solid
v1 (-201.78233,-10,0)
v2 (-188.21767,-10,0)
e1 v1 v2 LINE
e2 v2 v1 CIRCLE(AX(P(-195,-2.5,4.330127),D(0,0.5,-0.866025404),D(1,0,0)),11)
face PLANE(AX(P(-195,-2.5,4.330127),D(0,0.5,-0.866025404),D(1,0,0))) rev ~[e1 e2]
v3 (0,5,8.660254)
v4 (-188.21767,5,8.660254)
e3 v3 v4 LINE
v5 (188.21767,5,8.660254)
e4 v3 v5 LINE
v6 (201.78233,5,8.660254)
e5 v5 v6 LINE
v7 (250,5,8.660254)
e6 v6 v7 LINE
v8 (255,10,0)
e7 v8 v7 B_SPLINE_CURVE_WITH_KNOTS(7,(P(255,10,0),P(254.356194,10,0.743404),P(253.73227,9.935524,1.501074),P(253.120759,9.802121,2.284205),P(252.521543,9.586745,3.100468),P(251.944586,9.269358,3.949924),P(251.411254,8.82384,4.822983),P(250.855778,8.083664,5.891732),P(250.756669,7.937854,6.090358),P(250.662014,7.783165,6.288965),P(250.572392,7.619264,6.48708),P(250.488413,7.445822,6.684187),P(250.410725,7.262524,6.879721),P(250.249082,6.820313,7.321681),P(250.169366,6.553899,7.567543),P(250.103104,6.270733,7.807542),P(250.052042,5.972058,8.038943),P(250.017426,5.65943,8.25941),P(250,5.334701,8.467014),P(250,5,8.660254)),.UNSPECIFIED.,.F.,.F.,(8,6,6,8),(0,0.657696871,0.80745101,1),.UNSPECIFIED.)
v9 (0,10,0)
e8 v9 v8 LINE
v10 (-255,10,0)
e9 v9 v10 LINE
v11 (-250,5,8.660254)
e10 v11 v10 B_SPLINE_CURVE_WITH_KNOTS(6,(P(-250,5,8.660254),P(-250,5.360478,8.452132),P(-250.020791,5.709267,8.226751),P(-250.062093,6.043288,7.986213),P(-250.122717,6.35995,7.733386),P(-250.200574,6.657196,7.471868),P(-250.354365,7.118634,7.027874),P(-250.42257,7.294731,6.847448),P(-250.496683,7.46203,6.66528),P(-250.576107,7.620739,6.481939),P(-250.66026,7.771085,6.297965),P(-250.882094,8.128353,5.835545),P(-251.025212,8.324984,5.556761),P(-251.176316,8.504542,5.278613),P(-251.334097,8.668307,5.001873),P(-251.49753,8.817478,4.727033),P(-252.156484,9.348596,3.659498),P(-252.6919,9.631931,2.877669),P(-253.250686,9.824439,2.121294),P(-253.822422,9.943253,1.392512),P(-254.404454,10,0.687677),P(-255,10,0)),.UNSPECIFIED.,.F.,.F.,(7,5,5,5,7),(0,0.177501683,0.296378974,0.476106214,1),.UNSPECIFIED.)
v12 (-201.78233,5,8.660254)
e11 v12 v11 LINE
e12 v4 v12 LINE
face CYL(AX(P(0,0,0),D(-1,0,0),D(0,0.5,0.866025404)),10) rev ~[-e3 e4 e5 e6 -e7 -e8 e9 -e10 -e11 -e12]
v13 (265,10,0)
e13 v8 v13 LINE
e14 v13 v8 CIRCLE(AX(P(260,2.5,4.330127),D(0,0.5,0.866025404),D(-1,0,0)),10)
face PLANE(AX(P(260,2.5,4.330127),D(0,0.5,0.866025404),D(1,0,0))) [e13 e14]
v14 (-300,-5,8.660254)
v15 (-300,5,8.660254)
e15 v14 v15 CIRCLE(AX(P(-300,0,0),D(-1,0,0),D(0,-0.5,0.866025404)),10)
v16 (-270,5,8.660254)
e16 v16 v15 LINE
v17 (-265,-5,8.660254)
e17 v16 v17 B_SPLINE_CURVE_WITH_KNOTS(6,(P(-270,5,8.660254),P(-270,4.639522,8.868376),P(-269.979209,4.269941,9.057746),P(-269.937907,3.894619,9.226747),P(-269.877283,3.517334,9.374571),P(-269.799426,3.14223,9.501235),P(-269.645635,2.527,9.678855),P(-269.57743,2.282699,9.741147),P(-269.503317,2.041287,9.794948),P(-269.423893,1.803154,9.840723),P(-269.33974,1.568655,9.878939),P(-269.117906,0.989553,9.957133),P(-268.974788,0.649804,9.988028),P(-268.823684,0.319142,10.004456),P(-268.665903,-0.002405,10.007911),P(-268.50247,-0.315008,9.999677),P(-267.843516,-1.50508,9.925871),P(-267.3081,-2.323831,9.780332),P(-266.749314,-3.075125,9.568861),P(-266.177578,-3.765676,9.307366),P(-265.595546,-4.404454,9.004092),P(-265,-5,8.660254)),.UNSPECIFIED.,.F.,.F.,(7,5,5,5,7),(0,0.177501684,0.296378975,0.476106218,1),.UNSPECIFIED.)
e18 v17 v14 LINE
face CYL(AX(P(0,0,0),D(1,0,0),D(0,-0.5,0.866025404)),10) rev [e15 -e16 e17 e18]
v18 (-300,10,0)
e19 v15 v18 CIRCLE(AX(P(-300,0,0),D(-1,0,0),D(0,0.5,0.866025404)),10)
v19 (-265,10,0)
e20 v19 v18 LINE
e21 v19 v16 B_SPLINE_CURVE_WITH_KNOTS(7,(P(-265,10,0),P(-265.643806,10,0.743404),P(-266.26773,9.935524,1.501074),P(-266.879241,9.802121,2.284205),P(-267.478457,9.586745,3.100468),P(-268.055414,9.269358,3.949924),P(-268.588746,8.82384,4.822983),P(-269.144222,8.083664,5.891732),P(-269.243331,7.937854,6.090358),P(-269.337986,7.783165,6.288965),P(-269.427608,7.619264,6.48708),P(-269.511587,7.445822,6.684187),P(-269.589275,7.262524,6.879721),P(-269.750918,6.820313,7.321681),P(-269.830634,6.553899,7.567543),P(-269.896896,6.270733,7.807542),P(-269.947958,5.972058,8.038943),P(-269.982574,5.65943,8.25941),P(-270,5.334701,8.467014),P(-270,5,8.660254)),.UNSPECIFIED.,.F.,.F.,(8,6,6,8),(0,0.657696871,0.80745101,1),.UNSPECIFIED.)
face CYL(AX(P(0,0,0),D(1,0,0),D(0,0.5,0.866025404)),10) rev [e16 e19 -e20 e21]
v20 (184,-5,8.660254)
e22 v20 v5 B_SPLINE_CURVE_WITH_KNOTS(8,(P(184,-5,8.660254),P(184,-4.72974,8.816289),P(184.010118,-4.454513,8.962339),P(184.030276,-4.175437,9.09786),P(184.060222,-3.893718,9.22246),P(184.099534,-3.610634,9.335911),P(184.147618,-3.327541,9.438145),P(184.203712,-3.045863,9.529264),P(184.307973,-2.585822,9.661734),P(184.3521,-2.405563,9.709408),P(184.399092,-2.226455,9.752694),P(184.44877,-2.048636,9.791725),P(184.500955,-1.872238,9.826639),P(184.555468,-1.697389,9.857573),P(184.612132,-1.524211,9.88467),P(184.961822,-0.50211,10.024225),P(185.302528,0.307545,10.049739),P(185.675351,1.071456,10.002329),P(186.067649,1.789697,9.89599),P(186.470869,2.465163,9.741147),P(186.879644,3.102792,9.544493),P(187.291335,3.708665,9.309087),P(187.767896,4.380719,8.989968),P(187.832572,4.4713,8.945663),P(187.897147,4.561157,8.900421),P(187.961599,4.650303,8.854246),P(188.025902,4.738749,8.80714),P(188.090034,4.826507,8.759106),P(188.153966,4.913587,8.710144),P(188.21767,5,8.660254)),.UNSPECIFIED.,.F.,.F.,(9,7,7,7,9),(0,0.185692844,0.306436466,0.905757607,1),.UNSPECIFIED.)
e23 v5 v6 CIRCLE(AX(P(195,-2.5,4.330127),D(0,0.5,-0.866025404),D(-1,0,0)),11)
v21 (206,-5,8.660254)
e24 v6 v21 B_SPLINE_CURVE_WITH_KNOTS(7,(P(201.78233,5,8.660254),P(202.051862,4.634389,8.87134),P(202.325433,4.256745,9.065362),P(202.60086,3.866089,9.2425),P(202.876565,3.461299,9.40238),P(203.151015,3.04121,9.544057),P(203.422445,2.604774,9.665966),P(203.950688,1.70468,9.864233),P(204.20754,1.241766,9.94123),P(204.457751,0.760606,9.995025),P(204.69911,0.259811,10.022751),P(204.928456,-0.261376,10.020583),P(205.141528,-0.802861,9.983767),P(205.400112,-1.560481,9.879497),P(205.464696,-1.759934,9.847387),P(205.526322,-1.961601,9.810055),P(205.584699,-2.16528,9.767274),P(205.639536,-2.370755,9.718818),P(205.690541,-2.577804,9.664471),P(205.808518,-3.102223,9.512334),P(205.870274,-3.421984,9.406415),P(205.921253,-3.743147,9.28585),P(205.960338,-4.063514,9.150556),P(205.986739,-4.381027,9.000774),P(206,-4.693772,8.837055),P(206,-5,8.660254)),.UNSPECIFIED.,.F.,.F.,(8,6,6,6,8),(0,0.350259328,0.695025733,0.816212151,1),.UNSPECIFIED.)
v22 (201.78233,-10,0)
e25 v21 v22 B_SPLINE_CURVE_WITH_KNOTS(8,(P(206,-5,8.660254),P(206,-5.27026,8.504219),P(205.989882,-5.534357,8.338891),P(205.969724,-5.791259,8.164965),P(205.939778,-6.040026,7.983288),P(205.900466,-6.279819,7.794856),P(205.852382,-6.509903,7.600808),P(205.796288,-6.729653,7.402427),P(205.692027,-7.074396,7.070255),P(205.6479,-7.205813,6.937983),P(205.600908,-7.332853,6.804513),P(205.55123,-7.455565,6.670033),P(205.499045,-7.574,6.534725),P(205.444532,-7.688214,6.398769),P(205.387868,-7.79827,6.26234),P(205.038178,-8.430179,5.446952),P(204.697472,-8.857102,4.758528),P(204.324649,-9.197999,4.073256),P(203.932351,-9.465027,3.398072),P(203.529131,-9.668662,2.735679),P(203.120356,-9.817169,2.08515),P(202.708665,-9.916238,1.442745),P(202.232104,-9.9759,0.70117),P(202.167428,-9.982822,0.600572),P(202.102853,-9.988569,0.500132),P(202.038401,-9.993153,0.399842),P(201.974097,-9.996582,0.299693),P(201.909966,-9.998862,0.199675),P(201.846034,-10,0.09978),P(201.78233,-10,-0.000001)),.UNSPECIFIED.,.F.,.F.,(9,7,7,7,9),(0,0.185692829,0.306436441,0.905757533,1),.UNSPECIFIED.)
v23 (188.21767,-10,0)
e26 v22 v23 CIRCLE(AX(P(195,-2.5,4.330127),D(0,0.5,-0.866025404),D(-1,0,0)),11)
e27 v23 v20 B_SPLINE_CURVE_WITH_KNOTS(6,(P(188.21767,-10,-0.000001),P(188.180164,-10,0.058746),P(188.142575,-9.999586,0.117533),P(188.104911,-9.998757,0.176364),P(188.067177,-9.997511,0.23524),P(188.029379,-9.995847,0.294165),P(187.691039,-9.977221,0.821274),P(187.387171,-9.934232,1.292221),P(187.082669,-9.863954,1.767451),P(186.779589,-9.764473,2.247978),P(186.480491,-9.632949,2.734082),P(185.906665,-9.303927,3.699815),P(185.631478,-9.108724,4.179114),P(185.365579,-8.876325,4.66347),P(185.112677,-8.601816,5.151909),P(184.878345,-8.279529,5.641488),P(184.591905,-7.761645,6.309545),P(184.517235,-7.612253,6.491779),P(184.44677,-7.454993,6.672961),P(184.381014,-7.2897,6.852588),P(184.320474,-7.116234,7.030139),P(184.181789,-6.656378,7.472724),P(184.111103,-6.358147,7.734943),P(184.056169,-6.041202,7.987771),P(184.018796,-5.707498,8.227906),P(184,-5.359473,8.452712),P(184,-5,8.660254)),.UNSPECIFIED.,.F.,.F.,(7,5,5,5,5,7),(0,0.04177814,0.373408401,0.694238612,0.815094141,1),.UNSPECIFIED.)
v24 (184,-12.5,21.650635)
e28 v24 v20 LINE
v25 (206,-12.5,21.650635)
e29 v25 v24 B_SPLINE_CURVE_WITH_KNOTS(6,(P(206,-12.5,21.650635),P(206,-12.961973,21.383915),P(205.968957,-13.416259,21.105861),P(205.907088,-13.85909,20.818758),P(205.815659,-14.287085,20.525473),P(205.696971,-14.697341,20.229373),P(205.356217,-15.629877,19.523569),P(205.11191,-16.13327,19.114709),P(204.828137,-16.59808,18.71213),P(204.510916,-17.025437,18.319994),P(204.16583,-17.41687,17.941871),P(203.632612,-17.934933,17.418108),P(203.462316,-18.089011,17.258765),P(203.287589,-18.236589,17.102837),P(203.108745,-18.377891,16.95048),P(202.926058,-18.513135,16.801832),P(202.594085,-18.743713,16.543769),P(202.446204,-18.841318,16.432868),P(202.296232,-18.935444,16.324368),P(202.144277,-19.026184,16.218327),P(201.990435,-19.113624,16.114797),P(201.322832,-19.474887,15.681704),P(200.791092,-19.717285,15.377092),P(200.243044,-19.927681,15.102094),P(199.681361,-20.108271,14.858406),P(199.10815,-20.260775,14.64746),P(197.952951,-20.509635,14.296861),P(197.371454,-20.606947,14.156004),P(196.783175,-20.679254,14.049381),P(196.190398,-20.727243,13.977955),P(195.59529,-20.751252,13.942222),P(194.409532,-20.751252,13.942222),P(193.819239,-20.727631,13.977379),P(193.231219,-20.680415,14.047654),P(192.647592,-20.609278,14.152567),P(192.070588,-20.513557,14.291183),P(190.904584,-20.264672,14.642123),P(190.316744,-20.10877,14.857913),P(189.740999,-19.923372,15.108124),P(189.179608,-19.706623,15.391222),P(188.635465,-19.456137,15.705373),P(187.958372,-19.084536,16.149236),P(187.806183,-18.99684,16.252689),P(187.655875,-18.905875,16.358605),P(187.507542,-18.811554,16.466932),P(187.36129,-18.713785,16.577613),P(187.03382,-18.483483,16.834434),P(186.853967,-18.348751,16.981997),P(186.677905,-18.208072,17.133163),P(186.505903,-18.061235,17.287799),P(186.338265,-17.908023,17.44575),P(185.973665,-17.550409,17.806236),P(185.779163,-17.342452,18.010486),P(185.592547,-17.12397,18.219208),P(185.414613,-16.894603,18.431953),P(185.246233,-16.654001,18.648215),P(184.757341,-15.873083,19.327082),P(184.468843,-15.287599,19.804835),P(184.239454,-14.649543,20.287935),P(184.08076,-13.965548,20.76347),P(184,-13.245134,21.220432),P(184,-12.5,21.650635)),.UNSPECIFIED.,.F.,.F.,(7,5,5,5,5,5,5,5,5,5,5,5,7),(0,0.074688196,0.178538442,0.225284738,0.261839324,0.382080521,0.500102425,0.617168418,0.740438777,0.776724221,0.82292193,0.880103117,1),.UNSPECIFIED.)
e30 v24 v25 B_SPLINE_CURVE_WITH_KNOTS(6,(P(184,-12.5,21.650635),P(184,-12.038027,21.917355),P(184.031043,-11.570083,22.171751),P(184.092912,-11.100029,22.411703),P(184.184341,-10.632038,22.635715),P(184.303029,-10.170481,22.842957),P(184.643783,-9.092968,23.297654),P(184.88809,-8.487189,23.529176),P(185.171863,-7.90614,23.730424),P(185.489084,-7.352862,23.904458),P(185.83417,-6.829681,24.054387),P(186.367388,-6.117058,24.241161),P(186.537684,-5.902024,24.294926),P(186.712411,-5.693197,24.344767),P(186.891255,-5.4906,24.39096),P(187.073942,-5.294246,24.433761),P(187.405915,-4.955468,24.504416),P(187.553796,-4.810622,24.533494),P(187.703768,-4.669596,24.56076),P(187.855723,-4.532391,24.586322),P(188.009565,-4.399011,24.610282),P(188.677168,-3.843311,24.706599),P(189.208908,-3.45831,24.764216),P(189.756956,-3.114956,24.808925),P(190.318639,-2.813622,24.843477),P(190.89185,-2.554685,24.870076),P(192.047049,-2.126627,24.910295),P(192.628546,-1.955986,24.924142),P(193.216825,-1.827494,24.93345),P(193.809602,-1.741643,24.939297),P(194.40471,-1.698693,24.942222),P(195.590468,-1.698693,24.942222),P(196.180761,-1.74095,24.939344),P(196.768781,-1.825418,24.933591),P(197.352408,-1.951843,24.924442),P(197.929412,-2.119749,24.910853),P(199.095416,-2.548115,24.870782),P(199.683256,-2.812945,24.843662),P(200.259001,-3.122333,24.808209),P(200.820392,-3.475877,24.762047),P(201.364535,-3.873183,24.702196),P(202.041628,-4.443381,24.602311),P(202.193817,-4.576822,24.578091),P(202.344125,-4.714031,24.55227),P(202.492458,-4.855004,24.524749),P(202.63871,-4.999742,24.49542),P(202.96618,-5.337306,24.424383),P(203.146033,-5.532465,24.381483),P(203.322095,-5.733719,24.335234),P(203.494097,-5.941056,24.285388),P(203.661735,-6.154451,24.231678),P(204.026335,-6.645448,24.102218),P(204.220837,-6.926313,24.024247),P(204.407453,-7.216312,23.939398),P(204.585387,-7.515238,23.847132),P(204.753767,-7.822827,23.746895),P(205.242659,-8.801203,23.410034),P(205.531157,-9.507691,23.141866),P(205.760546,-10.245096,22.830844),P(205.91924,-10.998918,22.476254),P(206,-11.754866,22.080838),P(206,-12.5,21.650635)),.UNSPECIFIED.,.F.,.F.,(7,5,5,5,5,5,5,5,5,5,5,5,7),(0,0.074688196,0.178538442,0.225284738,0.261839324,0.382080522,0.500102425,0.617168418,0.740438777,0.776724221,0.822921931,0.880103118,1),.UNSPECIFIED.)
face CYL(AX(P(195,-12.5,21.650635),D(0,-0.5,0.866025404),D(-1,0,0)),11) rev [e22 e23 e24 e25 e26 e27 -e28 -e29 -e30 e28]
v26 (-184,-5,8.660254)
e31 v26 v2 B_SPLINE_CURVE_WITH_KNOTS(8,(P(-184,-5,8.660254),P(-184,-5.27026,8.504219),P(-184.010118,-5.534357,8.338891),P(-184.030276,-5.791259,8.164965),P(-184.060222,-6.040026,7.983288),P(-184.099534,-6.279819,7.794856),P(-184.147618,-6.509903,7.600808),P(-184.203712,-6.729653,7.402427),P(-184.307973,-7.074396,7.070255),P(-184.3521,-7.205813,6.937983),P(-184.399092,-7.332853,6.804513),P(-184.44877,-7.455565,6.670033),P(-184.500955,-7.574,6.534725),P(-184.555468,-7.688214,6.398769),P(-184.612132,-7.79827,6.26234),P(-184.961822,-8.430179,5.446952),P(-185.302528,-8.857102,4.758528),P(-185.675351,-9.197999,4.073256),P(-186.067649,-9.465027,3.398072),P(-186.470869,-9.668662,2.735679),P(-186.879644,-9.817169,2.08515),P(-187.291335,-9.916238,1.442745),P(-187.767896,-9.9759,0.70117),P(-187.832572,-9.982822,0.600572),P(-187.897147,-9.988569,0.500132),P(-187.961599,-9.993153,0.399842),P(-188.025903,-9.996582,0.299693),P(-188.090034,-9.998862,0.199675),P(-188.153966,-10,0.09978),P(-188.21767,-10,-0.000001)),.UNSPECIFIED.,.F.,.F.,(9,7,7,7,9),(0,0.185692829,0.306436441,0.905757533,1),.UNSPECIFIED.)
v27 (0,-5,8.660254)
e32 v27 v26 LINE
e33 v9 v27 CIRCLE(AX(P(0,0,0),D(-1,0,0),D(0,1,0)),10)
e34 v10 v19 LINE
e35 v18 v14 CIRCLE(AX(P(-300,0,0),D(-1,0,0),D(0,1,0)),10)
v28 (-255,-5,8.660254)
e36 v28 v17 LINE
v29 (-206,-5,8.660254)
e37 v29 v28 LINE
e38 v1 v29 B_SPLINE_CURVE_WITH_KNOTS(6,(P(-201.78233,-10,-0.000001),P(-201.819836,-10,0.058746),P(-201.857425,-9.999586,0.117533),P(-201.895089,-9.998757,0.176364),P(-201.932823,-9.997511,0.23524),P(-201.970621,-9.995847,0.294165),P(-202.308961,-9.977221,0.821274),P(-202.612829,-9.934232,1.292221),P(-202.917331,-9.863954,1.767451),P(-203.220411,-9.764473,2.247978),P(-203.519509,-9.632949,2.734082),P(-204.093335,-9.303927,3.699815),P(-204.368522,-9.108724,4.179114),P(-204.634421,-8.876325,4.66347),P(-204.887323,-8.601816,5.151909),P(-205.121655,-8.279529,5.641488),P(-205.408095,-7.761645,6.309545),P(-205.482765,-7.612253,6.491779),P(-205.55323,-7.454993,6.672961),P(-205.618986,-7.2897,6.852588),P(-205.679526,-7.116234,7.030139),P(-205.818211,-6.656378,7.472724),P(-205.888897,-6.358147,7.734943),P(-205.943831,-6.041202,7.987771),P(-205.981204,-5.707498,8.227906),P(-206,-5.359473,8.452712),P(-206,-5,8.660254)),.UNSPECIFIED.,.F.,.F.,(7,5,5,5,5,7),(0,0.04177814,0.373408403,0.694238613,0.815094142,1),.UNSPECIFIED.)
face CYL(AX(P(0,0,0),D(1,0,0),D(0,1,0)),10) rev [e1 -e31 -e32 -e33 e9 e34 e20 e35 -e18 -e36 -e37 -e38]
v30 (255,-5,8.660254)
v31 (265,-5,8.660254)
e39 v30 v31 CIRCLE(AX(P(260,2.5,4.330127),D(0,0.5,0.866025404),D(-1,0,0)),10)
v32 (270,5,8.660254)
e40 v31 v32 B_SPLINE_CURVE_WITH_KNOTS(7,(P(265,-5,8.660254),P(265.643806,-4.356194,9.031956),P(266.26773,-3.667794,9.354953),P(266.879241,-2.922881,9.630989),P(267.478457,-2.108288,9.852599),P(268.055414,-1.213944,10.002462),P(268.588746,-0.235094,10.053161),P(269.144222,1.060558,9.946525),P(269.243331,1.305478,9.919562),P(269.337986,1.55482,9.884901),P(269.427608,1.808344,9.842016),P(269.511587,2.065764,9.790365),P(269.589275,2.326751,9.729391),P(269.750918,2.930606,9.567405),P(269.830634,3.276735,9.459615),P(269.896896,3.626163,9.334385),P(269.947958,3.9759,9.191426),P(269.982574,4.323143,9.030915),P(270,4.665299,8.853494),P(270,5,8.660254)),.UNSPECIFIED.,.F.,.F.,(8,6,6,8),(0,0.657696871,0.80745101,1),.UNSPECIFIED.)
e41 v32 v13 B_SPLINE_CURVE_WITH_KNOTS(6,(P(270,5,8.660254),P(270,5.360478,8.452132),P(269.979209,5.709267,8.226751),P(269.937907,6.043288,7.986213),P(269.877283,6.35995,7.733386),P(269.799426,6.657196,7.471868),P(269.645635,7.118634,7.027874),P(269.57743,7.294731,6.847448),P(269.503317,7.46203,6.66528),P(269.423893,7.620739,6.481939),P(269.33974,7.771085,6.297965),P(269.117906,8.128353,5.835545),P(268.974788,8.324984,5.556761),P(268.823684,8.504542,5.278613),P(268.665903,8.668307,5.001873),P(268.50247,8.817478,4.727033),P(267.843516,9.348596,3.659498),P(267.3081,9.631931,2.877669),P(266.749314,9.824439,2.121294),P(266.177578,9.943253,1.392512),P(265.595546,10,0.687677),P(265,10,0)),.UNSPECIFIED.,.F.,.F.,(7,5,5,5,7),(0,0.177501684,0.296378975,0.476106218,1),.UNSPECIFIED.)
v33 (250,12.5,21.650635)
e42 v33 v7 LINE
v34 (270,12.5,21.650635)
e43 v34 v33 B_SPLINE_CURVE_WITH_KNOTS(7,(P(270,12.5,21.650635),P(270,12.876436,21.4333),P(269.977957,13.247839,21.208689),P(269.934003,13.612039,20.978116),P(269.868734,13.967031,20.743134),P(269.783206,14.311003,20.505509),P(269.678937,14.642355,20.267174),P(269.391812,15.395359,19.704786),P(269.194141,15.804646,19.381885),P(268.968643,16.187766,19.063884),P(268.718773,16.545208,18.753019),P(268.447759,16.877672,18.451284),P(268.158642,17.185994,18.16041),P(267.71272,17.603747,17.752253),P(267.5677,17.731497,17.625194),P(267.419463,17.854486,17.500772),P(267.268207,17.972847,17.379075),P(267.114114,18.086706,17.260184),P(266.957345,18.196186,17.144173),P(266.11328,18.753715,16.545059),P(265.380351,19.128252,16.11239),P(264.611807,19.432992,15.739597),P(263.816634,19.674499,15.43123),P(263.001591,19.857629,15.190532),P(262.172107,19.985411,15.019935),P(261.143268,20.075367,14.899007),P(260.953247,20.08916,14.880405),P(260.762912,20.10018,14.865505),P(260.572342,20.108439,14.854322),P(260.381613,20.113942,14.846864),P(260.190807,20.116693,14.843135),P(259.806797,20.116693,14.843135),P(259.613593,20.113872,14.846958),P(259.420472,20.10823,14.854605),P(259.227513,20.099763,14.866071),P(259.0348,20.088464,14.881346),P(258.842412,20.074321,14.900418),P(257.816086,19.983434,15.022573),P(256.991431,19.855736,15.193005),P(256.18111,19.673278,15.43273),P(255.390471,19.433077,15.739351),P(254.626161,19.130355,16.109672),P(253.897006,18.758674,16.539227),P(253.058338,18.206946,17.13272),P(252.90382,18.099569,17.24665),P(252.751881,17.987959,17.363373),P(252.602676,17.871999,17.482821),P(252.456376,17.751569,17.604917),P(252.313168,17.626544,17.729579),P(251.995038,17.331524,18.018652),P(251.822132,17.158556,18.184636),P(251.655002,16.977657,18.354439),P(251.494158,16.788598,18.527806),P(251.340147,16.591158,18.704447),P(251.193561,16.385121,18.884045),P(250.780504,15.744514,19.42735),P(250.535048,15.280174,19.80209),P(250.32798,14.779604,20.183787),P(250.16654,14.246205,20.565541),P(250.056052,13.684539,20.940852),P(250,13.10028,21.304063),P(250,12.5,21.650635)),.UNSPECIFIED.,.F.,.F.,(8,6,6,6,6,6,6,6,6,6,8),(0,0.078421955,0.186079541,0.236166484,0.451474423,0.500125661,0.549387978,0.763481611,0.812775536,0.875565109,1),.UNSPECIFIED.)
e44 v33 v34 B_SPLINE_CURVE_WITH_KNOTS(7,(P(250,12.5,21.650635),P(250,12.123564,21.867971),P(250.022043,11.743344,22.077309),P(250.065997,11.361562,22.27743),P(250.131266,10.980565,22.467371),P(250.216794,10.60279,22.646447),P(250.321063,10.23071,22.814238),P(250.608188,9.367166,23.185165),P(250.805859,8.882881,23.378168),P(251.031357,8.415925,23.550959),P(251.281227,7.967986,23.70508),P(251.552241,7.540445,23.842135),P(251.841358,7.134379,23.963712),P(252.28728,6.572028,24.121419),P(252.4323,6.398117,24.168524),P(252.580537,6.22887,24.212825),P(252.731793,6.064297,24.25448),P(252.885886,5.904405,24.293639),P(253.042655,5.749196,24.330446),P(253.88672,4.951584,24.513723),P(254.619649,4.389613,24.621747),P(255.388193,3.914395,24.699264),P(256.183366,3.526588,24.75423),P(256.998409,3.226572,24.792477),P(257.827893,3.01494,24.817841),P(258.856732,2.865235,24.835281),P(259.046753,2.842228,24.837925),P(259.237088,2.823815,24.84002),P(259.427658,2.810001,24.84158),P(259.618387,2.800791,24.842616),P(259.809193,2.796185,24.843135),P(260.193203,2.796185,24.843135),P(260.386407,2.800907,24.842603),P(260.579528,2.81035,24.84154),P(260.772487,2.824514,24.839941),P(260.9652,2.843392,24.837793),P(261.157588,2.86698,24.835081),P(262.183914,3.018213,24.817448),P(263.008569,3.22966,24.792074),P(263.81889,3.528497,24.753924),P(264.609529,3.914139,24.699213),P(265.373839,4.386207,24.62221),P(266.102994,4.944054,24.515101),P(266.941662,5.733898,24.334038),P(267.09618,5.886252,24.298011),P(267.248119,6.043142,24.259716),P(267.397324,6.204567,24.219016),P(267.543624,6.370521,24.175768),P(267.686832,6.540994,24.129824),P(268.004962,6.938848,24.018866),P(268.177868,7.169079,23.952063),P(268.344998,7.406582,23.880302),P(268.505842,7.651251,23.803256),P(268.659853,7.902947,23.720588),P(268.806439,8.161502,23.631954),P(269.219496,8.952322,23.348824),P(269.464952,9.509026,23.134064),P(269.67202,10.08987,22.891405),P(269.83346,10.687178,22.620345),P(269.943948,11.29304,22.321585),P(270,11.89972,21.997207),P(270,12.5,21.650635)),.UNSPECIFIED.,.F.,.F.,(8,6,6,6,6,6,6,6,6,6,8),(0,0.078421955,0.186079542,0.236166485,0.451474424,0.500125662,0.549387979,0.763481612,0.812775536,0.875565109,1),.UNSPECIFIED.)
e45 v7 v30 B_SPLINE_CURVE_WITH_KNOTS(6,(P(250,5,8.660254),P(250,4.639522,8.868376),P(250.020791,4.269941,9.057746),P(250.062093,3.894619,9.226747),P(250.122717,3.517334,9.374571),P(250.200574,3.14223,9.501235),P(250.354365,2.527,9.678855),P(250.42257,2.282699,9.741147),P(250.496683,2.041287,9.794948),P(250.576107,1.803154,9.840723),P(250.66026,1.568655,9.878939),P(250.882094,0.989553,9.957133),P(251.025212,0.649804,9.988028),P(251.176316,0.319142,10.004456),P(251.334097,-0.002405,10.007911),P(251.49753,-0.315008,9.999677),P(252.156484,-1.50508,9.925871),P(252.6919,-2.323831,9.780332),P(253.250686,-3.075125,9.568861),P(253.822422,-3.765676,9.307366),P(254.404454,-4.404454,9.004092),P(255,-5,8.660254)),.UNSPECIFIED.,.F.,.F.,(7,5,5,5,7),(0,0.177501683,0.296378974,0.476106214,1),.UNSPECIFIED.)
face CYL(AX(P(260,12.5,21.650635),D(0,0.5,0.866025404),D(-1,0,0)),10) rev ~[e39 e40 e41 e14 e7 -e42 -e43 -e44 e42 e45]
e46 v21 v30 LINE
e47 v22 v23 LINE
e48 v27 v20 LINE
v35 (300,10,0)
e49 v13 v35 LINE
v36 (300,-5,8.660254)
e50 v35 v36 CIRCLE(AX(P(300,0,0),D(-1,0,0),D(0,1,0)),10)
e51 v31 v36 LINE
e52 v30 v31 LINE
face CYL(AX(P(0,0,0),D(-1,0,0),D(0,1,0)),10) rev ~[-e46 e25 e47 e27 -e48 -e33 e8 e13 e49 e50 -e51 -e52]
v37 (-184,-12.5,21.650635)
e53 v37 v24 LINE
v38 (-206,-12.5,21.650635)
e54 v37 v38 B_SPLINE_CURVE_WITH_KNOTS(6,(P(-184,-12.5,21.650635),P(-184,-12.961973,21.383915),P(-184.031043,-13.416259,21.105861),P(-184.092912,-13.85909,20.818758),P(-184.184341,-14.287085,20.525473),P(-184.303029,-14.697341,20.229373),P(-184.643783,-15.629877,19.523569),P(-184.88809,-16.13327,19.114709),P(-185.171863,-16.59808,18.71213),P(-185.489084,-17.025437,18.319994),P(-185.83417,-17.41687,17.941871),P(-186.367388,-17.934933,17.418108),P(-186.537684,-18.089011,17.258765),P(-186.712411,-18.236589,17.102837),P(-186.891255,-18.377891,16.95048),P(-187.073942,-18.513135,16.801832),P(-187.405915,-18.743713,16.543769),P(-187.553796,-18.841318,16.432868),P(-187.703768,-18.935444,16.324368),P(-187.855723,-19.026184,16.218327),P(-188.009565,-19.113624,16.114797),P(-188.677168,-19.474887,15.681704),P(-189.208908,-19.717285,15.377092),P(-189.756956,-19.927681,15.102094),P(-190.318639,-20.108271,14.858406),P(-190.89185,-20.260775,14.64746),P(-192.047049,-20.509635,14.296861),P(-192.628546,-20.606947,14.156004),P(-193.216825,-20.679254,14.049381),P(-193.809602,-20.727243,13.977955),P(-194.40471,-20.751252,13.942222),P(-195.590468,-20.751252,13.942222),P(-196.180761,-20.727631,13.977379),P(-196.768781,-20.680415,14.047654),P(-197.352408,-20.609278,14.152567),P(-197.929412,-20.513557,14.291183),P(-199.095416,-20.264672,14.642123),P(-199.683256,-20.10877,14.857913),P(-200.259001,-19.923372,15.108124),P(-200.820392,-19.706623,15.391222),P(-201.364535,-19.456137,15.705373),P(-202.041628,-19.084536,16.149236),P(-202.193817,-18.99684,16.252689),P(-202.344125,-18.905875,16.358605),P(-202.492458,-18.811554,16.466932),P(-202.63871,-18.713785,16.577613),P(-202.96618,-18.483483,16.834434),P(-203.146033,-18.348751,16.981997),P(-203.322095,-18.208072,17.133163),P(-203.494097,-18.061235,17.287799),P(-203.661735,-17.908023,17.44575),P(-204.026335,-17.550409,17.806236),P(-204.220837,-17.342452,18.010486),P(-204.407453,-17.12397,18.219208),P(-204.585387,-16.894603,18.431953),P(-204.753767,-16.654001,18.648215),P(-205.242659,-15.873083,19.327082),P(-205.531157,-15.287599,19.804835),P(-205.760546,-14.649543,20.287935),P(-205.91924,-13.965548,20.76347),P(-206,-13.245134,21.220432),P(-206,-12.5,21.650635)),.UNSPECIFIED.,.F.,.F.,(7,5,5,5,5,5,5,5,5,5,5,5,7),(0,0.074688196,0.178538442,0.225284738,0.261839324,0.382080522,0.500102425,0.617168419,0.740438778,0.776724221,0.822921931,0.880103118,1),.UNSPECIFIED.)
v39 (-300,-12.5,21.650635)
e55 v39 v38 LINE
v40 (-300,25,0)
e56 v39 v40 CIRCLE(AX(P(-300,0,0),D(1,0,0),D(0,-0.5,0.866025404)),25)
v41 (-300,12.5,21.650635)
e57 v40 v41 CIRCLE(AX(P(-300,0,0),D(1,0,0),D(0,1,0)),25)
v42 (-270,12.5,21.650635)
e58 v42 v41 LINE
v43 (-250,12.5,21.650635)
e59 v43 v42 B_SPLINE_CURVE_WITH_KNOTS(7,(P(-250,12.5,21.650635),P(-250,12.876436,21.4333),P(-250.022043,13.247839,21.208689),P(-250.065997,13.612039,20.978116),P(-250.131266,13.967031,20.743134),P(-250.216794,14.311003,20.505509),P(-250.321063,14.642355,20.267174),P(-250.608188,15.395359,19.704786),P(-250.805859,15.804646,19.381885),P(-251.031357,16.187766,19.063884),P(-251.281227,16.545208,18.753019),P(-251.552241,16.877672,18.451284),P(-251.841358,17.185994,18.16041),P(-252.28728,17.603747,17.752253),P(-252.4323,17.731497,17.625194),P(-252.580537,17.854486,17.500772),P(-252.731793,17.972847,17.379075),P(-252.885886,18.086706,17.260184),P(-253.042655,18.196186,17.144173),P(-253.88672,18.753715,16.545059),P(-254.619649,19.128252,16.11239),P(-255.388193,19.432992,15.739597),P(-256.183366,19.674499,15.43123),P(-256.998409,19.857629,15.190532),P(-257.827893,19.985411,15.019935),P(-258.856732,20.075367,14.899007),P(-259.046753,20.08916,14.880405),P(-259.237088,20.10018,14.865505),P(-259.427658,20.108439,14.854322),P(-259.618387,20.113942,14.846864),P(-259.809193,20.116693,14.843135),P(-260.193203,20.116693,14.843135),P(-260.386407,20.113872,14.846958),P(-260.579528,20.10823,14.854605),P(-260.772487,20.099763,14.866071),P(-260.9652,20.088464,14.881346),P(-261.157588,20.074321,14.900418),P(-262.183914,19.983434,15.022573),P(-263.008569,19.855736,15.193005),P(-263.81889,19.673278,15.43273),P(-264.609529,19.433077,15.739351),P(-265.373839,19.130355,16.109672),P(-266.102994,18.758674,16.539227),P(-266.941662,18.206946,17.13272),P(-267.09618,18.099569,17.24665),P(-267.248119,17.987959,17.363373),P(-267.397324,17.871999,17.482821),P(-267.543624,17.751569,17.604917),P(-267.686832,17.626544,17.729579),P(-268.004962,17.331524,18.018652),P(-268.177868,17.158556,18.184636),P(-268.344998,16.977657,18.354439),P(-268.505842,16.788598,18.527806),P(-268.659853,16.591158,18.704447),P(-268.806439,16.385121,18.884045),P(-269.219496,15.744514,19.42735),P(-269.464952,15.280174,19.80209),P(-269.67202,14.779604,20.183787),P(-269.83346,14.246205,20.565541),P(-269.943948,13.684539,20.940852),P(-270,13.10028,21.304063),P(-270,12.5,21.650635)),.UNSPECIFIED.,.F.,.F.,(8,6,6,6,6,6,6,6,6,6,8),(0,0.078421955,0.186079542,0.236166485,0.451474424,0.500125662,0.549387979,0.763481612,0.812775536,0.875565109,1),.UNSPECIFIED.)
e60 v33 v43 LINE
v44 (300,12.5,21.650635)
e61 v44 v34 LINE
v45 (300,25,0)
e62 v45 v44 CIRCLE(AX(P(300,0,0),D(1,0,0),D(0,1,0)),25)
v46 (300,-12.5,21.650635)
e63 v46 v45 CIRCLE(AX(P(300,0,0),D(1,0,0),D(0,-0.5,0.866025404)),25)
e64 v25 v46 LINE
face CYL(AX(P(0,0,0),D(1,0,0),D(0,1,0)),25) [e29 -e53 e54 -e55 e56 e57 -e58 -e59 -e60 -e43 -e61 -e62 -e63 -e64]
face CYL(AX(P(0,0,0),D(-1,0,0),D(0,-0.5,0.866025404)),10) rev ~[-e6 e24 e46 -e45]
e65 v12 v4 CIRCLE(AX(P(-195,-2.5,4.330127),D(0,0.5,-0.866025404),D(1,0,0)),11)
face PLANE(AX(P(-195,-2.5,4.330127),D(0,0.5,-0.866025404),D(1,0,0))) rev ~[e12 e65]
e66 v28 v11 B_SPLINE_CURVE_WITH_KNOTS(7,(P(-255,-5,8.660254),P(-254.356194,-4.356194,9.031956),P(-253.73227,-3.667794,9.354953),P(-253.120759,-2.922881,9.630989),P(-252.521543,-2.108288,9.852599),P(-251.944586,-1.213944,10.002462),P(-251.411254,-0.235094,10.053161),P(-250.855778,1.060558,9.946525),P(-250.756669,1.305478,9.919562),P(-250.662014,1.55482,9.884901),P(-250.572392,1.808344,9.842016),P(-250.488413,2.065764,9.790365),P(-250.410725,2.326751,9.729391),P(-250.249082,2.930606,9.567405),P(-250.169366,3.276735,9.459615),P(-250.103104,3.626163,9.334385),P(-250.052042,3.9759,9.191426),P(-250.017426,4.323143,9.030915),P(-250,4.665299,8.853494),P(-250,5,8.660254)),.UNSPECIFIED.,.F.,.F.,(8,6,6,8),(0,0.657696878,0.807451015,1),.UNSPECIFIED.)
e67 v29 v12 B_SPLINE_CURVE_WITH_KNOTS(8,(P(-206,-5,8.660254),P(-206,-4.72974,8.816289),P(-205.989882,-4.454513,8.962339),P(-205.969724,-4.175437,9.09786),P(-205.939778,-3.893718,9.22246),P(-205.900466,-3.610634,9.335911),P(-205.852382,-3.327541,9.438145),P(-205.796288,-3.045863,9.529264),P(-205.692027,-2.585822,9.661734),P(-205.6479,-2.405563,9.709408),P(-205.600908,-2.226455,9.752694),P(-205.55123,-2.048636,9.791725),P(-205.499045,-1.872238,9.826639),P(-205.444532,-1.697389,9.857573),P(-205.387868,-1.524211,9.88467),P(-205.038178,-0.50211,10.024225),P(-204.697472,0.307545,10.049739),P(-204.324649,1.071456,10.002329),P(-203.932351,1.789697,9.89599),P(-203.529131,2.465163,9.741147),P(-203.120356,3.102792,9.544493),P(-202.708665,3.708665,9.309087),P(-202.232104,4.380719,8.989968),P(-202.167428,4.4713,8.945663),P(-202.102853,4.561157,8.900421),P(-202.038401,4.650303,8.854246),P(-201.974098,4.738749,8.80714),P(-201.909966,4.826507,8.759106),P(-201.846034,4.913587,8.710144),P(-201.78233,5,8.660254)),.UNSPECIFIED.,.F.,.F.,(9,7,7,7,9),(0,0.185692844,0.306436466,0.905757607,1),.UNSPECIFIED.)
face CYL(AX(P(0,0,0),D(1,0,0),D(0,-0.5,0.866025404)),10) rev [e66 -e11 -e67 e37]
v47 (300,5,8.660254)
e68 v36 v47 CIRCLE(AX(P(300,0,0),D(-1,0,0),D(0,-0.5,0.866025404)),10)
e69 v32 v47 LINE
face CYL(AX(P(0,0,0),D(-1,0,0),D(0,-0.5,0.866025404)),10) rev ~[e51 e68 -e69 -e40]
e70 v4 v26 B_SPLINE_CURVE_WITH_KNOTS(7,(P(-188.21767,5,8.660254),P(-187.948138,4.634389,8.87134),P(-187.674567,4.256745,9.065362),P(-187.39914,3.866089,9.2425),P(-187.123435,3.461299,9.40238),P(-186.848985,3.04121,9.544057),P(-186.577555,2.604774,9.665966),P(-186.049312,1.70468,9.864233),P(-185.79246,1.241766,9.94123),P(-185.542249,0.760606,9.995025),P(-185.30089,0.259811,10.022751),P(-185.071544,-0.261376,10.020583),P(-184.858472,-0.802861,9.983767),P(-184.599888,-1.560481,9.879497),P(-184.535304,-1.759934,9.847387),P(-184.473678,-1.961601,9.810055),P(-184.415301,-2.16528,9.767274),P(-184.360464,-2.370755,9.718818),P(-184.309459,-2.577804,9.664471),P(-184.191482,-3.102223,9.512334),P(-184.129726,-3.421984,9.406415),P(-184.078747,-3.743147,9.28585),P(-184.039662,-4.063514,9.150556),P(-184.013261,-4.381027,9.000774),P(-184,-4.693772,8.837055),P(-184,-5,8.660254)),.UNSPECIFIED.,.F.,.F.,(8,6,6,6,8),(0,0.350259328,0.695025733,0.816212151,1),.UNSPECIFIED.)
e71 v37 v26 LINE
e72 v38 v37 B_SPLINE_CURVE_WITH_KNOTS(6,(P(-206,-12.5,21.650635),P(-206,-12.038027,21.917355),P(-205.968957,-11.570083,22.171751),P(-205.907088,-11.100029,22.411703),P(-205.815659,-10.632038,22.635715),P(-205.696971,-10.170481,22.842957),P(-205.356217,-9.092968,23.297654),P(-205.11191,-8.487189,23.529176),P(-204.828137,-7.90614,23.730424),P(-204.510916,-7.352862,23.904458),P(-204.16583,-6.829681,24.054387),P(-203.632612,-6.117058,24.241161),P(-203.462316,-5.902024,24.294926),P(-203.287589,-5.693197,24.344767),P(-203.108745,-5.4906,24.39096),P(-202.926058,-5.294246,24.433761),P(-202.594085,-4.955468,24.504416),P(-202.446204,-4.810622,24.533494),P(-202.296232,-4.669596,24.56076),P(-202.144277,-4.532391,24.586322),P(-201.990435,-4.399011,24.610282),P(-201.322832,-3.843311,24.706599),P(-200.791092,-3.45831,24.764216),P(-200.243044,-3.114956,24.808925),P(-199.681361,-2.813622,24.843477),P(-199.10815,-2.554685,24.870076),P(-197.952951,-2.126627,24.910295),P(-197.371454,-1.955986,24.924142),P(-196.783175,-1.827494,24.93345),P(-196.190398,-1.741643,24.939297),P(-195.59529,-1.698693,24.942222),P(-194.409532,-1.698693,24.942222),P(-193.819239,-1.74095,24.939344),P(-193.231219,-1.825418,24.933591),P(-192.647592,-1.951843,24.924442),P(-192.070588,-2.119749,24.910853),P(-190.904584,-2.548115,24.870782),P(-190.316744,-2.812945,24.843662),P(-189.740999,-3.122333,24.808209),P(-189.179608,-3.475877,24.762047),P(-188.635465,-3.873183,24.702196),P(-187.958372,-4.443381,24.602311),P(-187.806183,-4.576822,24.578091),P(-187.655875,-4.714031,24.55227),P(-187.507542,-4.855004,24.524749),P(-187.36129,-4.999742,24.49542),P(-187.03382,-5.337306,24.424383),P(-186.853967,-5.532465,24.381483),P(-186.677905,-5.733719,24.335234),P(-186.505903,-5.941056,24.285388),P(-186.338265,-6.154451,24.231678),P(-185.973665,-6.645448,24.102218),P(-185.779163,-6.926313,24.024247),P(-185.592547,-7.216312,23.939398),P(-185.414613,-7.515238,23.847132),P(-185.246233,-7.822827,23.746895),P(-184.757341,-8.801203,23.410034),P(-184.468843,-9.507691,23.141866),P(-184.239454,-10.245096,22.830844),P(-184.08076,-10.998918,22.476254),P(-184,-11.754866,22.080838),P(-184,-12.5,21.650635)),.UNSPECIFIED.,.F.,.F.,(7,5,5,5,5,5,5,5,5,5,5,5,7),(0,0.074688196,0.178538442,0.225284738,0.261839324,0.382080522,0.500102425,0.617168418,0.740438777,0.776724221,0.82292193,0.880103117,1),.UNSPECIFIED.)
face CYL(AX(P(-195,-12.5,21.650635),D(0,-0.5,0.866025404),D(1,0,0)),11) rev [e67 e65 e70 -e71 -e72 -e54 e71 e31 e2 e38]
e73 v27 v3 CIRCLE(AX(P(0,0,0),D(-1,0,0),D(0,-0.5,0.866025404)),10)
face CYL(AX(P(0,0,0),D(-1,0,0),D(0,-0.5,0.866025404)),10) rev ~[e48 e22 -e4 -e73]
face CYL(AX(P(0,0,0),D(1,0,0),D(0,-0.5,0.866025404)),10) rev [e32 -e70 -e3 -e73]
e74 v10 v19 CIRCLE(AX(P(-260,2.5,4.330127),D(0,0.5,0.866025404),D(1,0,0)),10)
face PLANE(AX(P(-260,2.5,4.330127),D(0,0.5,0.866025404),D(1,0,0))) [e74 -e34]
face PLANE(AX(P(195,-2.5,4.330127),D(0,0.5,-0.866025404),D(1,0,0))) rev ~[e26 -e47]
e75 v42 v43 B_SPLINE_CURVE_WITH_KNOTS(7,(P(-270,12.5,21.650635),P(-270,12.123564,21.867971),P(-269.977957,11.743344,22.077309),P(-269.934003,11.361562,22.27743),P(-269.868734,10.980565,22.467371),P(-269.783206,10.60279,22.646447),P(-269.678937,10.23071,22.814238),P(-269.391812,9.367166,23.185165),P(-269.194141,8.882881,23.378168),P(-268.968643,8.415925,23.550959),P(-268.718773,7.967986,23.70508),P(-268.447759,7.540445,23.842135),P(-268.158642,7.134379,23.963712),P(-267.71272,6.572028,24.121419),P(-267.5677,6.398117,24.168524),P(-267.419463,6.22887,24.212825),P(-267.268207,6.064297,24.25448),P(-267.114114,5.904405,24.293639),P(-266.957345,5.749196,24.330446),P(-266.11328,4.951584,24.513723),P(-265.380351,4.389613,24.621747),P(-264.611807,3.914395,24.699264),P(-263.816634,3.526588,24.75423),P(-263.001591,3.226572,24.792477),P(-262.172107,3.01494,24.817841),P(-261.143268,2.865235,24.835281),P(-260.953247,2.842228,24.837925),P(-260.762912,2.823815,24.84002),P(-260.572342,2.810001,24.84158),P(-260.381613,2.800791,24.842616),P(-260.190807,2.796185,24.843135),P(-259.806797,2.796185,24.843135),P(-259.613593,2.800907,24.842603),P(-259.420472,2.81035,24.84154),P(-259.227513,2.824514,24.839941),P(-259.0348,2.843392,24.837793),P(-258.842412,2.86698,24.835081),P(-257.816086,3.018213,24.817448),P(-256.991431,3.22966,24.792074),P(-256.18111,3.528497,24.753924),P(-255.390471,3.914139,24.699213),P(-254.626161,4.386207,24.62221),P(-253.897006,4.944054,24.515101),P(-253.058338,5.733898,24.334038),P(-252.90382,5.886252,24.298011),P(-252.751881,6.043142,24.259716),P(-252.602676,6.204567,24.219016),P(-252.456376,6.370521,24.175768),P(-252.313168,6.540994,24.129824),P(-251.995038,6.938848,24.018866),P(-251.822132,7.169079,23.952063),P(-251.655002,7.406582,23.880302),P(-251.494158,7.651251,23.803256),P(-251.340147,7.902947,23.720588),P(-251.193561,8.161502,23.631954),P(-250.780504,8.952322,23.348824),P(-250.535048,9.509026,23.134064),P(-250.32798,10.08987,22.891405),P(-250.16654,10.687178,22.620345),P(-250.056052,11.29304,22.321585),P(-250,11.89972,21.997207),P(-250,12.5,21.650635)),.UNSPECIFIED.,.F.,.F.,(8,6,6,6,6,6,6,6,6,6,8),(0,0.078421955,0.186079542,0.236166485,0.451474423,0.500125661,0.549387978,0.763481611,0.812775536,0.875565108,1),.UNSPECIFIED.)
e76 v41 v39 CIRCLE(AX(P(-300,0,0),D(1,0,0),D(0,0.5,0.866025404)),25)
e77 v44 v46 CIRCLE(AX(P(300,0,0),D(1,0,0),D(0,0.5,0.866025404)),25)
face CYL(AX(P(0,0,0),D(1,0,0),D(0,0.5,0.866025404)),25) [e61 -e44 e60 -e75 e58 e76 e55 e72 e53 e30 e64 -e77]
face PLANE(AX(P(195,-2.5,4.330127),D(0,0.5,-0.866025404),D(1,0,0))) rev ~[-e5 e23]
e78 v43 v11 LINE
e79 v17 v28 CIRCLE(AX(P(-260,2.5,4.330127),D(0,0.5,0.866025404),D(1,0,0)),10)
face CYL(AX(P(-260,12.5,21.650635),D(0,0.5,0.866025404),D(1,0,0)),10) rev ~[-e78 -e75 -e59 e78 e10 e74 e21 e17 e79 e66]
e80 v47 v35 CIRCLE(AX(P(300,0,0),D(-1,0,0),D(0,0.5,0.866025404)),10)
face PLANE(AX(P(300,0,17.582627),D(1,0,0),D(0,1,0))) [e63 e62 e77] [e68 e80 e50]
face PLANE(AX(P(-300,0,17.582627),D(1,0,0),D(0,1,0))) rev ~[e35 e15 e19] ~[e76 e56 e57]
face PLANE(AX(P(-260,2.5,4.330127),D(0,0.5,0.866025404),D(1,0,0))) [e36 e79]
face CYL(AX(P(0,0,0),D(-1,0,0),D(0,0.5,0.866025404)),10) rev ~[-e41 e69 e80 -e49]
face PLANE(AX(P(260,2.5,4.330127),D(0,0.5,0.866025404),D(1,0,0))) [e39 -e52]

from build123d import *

# Parameters (mm, degrees)
F1_DEPTH = 300
F3_R     = 11
F4_DEPTH = 20
F6_R     = 10
F7_DEPTH = 20


with BuildPart() as f1:
    # F0 (on Right) → F1 (new body, symmetric)
    with BuildSketch(Plane.YZ):
        with BuildLine():
            Line((5, 8.6602540378), (12.5, 21.6506350946))
            ThreePointArc((12.5, 21.6506350946), (0, 25), (-12.5, 21.6506350946))
            Line((-12.5, 21.6506350946), (-5, 8.6602540378))
            ThreePointArc((-5, 8.6602540378), (0, 10), (5, 8.6602540378))
        make_face()
        with BuildLine():
            ThreePointArc((-12.5, 21.6506350946), (-12.5, -21.6506350946), (25, 0))
            ThreePointArc((25, 0), (21.6506350946, 12.5), (12.5, 21.6506350946))
            Line((12.5, 21.6506350946), (5, 8.6602540378))
            ThreePointArc((5, 8.6602540378), (8.6602540378, 5), (10, 0))
            ThreePointArc((10, 0), (-5, -8.6602540378), (-5, 8.6602540378))
            Line((-5, 8.6602540378), (-12.5, 21.6506350946))
        make_face()
    extrude(amount=F1_DEPTH, both=True)

    # F3 (on face) → F4 (cut)
    with BuildSketch(Plane(origin=(0, -12.5, 21.6506350946), x_dir=(1, 0, 0), z_dir=(0, 0.5, -0.8660254038))):
        with BuildLine():
            ThreePointArc((206, 0), (195, 11), (184, 0))
            ThreePointArc((184, 0), (195, -11), (206, 0))
        make_face()
        with Locations((-195, 0)):
            Circle(F3_R)
    extrude(amount=F4_DEPTH, mode=Mode.SUBTRACT)

    # F6 (on face) → F7 (cut)
    with BuildSketch(Plane(origin=(0, 12.5, 21.6506350946), x_dir=(1, 0, 0), z_dir=(0, 0.5, 0.8660254038))):
        with BuildLine():
            ThreePointArc((270, 0), (260, 10), (250, 0))
            ThreePointArc((250, 0), (260, -10), (270, 0))
        make_face()
        with Locations((-260, 0)):
            Circle(F6_R)
    extrude(amount=-F7_DEPTH, mode=Mode.SUBTRACT)


solid = f1.part
